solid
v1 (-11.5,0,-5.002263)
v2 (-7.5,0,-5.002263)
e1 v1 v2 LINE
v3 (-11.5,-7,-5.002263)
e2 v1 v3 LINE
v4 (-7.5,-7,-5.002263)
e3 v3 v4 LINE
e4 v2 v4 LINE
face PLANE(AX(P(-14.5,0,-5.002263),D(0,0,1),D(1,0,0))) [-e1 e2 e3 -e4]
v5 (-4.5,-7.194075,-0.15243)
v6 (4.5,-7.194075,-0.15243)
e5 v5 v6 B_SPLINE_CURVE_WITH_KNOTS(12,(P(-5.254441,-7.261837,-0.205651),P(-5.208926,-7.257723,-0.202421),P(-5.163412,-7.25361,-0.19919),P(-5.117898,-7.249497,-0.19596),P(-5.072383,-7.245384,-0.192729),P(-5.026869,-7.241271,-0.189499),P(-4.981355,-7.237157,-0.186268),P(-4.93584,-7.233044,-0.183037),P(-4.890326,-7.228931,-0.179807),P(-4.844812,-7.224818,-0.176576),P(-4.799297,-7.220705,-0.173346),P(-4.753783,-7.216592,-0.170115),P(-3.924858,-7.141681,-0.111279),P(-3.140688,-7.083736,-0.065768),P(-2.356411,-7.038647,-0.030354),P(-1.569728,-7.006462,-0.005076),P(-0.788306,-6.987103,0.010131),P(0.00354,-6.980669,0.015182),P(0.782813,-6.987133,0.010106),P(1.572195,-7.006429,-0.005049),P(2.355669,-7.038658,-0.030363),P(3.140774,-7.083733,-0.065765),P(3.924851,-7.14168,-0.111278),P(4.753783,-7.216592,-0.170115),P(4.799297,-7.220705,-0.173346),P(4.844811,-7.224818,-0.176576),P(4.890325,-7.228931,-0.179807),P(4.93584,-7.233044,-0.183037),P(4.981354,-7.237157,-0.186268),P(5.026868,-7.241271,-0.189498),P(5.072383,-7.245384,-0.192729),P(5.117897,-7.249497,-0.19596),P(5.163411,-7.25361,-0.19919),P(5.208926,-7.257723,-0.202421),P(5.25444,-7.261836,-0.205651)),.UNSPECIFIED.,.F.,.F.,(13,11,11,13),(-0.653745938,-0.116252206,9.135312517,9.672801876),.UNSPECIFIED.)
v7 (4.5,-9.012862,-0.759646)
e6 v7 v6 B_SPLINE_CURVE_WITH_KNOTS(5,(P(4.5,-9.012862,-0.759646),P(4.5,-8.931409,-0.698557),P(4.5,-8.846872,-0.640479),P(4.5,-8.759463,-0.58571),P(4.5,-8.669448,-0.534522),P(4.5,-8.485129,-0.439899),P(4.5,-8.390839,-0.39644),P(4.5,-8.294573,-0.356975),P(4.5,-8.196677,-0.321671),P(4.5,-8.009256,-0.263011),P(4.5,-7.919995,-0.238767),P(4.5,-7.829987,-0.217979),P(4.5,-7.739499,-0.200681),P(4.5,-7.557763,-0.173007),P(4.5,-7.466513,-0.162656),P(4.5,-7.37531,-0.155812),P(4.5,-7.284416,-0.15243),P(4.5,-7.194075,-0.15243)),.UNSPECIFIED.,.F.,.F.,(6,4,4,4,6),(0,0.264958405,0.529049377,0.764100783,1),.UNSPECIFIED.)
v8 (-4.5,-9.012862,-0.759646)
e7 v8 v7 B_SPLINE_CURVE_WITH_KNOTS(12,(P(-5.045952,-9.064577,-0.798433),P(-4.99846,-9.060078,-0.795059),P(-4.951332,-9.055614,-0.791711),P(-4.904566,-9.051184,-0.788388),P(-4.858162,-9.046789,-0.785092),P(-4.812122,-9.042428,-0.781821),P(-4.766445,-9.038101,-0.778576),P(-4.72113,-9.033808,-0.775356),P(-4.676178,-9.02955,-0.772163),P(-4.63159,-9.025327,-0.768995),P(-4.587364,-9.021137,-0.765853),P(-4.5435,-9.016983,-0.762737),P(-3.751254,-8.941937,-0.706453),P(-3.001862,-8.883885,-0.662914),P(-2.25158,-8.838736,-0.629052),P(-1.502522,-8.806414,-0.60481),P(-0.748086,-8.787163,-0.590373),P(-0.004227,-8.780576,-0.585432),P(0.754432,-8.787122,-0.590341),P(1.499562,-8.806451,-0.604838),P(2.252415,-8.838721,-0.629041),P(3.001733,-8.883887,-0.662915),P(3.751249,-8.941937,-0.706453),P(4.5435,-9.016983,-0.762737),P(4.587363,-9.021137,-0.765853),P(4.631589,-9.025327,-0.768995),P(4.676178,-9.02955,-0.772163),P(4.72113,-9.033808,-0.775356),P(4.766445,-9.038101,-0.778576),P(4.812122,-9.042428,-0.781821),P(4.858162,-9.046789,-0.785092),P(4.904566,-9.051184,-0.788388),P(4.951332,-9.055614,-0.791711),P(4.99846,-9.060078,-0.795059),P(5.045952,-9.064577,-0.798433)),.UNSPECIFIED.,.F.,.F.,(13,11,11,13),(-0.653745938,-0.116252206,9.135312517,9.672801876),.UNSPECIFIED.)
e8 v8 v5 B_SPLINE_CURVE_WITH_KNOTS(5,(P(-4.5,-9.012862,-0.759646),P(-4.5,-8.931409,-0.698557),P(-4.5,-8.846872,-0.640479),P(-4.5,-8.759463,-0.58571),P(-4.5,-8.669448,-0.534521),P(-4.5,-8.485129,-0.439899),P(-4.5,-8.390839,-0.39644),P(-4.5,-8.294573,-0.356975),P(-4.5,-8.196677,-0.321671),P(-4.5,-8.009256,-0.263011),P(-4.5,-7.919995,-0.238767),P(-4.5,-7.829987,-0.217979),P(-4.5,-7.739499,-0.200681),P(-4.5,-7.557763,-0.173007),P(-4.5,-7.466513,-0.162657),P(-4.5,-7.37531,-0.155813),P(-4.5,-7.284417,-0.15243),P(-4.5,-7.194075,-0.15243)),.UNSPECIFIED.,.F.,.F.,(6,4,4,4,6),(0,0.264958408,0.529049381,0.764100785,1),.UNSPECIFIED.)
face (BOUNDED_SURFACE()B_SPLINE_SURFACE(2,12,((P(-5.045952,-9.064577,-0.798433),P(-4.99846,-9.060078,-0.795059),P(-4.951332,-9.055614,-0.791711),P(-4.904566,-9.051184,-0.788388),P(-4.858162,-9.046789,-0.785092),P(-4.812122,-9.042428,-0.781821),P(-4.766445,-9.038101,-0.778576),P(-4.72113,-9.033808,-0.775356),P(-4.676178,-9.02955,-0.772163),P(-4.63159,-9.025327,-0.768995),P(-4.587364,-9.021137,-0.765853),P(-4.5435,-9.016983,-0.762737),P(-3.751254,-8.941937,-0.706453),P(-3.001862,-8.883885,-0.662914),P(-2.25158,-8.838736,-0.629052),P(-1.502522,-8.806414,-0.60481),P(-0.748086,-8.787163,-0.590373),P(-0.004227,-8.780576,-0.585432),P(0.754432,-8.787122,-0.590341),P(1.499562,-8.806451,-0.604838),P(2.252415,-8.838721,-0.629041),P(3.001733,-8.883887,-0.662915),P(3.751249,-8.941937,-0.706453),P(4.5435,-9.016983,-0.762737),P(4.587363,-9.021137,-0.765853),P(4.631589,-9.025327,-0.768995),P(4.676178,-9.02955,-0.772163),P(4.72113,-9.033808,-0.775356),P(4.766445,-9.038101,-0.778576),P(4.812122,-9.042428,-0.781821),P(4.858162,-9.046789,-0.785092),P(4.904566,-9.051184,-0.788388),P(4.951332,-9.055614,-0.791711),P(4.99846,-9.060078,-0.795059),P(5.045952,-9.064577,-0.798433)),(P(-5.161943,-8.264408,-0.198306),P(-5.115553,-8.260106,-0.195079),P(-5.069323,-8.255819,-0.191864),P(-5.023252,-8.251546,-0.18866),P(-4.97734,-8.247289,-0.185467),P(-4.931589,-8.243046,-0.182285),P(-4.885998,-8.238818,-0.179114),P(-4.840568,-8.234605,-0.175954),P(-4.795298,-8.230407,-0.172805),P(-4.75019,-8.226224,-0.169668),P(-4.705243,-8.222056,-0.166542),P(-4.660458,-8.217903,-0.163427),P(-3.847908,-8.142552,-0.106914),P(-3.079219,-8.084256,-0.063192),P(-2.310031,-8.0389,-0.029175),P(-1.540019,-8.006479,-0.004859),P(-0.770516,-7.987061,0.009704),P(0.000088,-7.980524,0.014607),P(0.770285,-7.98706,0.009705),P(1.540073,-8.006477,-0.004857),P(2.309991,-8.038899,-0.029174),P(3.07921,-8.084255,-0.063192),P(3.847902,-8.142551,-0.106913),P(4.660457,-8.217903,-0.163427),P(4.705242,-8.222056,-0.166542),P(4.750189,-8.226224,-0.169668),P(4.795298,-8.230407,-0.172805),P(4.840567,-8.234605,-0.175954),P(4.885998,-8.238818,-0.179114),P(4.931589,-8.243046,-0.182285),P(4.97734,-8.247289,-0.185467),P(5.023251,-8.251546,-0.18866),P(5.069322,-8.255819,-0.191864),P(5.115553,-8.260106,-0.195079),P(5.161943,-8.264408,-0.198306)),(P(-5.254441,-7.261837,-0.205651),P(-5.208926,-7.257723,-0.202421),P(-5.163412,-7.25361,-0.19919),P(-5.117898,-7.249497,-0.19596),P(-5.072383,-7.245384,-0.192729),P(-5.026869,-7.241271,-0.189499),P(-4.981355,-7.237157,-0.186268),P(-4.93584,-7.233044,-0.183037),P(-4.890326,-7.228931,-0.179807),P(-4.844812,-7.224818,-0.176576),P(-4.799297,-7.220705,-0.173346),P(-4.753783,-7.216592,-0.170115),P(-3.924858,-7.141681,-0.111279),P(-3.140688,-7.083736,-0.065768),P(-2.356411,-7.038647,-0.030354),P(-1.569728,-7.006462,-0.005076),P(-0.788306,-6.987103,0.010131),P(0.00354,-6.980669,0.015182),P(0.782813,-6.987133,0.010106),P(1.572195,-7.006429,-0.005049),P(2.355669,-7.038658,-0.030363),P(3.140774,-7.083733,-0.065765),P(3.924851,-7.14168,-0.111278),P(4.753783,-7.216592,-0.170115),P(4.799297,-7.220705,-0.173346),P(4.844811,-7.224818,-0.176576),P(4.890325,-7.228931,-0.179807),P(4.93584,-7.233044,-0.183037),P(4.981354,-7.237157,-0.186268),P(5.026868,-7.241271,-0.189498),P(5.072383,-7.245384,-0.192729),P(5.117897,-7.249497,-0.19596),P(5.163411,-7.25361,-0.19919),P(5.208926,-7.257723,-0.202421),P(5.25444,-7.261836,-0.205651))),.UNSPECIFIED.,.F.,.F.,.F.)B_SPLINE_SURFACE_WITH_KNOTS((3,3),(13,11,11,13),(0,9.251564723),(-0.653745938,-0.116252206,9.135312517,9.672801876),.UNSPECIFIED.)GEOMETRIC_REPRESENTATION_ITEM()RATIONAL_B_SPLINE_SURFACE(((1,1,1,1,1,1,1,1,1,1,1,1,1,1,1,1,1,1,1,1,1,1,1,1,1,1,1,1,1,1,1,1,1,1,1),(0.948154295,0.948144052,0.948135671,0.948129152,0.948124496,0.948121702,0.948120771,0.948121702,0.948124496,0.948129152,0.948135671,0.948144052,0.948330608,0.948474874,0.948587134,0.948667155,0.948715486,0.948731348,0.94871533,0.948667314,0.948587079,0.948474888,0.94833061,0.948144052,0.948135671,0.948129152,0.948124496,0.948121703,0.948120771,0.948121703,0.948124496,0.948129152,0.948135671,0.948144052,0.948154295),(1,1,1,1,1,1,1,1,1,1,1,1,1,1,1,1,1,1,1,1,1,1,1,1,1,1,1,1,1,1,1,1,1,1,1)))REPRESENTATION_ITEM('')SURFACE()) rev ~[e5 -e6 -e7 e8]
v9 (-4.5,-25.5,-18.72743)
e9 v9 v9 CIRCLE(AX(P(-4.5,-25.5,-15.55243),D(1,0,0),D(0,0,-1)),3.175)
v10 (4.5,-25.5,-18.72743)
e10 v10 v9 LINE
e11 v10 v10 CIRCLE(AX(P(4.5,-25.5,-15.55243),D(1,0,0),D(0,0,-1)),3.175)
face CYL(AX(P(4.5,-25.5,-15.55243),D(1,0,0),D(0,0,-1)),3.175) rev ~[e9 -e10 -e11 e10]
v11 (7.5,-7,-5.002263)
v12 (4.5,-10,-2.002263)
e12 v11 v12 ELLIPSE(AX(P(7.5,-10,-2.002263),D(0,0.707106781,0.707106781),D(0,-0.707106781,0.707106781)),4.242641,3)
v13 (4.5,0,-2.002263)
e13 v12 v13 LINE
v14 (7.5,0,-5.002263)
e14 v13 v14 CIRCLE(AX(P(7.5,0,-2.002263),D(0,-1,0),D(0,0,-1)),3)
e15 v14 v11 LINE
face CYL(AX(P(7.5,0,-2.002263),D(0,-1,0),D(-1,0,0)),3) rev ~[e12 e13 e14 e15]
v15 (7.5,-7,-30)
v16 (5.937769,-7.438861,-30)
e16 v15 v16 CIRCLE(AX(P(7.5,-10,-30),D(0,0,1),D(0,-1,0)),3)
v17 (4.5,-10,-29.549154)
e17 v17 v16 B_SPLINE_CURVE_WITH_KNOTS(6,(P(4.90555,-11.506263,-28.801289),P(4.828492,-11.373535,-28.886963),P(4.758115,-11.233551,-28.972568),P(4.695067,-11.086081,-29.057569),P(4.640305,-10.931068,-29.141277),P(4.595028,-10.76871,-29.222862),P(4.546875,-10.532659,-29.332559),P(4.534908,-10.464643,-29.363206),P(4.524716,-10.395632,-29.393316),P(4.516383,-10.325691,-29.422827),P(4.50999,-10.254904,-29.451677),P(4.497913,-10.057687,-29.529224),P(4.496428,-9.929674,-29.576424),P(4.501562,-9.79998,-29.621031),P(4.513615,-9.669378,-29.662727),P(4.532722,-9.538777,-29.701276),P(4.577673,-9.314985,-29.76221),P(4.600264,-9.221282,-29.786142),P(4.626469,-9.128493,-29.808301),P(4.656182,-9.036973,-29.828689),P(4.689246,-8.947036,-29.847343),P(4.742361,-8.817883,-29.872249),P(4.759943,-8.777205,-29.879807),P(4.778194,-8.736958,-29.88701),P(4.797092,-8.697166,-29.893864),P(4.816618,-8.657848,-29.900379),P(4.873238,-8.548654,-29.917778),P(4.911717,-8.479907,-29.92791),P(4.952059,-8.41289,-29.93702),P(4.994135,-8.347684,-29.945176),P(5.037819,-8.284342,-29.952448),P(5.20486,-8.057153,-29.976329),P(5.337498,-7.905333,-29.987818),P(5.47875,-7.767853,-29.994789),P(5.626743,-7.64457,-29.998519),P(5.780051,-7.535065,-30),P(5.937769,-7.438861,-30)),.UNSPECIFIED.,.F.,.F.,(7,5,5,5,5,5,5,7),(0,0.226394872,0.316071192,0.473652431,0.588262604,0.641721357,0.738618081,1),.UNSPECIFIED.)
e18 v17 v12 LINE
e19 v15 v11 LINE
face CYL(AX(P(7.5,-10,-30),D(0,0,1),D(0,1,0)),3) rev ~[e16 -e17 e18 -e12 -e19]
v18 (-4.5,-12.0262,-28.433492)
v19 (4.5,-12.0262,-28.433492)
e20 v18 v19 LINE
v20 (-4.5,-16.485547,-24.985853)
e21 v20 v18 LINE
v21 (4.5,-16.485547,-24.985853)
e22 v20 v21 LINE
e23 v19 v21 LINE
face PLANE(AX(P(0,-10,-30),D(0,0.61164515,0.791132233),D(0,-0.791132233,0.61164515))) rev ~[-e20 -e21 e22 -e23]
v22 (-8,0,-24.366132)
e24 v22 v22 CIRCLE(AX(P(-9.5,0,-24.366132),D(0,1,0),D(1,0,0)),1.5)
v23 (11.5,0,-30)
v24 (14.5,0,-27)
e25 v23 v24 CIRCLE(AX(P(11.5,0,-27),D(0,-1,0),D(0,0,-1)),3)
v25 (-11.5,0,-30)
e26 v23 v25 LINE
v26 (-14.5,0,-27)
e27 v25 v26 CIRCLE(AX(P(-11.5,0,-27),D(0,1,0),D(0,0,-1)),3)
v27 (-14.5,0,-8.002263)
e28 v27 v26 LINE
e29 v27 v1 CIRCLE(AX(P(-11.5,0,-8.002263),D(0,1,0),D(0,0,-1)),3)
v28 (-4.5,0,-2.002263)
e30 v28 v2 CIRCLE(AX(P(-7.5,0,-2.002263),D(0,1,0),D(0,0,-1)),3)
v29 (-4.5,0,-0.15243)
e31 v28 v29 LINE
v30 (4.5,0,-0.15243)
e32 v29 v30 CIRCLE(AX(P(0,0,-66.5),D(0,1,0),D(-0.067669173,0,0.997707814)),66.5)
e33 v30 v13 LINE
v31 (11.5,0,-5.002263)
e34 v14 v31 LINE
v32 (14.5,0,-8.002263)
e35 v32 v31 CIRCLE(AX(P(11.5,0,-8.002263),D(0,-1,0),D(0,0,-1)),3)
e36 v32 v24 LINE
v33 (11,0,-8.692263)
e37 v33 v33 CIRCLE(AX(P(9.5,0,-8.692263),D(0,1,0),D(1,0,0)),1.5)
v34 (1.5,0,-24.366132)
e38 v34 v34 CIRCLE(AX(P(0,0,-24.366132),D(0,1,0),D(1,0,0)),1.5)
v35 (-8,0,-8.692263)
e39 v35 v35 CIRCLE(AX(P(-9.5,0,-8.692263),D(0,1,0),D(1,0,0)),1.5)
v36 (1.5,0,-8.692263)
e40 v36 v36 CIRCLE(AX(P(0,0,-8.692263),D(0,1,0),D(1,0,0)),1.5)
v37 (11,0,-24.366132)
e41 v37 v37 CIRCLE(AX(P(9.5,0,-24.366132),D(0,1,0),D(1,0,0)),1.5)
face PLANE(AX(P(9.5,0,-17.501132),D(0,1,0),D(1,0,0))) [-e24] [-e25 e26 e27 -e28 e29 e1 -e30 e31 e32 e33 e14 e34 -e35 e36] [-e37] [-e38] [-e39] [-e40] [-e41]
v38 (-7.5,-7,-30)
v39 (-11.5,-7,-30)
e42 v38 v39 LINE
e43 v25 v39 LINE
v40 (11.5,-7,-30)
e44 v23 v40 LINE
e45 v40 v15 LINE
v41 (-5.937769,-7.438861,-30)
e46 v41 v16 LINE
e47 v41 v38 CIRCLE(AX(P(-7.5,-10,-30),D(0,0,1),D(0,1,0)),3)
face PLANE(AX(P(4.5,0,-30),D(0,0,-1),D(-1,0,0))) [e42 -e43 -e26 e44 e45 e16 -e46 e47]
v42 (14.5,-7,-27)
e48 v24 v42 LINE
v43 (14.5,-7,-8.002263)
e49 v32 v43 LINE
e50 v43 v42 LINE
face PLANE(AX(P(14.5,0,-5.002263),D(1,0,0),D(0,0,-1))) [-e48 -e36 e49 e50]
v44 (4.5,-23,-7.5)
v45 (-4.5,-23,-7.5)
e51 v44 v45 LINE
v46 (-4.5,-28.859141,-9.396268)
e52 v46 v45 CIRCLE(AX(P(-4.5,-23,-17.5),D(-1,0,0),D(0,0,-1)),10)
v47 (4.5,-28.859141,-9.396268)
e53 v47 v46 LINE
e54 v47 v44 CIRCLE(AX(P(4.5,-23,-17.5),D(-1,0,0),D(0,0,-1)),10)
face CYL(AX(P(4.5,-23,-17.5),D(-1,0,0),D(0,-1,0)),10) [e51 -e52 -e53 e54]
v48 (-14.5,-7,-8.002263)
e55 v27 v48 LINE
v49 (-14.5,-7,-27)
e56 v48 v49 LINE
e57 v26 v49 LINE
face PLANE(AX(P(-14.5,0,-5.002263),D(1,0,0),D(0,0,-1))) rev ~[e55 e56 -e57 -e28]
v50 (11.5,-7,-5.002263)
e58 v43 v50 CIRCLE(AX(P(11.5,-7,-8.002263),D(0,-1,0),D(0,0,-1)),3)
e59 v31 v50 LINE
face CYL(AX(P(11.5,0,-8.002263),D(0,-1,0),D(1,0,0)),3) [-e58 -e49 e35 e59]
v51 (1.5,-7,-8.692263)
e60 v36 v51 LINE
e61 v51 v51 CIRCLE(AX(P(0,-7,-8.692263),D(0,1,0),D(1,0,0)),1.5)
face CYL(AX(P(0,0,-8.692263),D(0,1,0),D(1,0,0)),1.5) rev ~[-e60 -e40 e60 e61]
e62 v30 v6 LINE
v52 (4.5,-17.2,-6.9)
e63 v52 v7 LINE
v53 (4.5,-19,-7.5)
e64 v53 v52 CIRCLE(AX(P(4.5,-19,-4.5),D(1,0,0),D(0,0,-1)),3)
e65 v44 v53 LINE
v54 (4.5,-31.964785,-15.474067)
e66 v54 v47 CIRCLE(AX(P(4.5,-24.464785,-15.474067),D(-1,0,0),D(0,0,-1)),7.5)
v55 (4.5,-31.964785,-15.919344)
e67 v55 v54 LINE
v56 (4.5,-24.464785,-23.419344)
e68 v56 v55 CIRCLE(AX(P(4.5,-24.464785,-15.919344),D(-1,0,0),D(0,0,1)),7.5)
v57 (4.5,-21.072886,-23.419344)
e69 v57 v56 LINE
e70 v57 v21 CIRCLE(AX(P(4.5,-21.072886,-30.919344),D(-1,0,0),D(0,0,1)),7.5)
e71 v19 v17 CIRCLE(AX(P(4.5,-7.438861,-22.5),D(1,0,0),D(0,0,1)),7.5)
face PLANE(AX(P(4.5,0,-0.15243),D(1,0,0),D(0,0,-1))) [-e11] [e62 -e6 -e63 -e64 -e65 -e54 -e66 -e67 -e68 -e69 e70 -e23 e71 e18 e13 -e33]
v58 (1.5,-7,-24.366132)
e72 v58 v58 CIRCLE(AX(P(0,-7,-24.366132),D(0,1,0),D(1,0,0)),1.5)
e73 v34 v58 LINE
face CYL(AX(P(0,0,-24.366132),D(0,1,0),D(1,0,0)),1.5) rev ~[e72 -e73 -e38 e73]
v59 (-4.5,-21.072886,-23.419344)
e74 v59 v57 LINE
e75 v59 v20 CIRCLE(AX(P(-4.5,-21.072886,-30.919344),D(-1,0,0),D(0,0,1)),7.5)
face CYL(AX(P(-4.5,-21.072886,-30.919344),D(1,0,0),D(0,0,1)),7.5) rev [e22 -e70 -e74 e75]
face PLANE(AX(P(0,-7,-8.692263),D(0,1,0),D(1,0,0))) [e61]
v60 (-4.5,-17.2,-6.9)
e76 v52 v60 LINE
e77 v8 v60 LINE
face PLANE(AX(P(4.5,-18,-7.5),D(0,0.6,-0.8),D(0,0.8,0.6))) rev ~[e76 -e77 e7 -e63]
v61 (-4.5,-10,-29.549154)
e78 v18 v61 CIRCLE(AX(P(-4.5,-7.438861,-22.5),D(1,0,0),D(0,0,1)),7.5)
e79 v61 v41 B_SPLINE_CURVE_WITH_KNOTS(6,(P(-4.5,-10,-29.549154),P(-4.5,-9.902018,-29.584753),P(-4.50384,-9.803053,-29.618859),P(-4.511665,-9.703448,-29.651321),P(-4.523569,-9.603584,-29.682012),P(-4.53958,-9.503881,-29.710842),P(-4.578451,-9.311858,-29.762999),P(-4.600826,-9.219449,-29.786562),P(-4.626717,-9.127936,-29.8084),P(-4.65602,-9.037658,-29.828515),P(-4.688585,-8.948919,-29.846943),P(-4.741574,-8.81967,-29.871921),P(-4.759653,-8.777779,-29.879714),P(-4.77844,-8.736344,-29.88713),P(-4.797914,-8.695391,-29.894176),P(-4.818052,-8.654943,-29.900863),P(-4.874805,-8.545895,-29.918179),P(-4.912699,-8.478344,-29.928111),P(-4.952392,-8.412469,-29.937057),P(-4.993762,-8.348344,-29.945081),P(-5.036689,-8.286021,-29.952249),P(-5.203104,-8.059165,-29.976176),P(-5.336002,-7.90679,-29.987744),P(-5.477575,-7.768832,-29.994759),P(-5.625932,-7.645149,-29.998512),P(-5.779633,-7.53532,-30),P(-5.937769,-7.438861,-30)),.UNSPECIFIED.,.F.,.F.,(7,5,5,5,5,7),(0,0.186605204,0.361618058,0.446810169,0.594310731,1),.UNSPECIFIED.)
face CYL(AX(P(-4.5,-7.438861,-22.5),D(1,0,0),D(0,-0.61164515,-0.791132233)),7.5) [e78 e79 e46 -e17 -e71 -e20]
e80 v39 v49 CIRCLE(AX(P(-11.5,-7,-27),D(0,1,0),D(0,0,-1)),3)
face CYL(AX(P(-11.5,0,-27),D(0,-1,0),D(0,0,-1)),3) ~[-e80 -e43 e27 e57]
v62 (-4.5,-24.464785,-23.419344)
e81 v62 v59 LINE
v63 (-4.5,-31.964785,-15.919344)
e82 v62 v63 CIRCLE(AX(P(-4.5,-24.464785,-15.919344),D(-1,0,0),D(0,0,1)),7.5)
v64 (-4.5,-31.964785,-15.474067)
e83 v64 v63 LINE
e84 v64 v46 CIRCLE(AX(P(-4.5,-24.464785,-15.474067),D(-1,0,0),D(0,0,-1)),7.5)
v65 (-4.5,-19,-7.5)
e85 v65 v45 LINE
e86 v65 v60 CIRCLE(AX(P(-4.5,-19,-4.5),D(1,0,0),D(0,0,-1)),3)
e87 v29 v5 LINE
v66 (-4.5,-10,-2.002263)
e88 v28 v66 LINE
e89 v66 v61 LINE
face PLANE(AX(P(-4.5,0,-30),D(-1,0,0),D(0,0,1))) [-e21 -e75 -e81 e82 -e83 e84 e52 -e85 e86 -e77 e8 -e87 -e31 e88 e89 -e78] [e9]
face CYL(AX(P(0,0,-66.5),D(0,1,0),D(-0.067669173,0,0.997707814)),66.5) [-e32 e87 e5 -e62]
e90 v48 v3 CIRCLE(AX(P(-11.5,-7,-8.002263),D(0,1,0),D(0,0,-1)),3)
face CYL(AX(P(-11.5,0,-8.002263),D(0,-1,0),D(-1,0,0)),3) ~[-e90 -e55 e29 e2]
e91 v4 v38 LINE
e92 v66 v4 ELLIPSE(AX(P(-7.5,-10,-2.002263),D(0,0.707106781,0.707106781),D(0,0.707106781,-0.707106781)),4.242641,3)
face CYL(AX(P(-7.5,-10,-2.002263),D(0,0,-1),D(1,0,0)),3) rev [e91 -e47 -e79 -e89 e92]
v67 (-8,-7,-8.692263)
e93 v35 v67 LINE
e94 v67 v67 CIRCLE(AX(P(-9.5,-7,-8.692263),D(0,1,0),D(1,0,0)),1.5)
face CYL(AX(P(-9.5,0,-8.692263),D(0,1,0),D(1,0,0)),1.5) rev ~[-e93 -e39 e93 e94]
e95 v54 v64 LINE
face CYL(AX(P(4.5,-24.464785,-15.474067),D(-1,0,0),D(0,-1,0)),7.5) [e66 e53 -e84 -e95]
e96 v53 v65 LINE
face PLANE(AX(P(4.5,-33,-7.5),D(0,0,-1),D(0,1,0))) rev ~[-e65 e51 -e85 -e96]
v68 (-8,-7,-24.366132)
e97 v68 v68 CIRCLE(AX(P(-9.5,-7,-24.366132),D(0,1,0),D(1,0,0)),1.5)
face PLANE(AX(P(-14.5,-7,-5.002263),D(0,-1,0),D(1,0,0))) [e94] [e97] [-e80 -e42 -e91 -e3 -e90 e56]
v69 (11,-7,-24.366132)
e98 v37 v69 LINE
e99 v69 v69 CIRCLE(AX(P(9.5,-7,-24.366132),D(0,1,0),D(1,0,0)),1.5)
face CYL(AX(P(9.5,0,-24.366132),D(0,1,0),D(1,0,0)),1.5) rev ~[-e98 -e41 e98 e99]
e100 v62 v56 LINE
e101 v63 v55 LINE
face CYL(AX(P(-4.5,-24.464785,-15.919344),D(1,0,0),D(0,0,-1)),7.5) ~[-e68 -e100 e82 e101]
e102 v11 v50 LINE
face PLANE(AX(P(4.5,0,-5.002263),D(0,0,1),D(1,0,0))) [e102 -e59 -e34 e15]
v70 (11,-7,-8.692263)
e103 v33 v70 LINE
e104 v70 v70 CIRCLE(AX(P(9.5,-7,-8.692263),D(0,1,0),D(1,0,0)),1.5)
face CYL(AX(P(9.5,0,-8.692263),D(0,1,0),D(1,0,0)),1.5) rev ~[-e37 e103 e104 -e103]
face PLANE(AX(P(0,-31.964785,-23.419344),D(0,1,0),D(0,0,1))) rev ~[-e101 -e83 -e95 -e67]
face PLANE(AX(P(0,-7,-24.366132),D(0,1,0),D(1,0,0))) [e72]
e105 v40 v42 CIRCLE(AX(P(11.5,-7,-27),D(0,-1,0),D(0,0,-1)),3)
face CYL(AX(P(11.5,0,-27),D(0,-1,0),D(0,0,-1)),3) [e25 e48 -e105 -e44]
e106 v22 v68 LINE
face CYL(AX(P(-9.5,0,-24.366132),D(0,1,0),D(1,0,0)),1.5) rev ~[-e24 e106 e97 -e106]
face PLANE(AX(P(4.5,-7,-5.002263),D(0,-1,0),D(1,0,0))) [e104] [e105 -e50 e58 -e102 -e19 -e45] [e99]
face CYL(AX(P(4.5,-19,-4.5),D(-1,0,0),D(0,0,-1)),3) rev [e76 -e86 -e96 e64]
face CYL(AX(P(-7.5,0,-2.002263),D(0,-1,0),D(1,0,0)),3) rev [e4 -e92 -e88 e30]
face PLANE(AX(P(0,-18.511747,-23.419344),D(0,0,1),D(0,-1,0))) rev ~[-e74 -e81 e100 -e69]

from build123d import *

# Parameters (mm, degrees)
BOSS_EXTRUDE1_DEPTH = 33
SKETCH2_R           = 3.175
CUT_EXTRUDE1_DEPTH  = 20
CUT_EXTRUDE2_DEPTH  = 20
FILLET1_R           = 10
SKETCH3_R           = 1.5
CUT_EXTRUDE3_DEPTH  = 7
SKETCH3_3_R         = 1.5
CUT_EXTRUDE4_DEPTH  = 7
SKETCH3_4_W         = 10
SKETCH3_4_H         = 24.9977367
BOSS_EXTRUDE2_DEPTH = 10
SKETCH3_5_R         = 1.5
CUT_EXTRUDE5_DEPTH  = 8
FILLET9_R           = 3
SKETCH20_W          = 10
SKETCH20_H          = 3
CUT_EXTRUDE6_DEPTH  = 25
FILLET10_R          = 3
FILLET11_R          = 10
FILLET12_R          = 3
FILLET13_R          = 3
CUT_EXTRUDE7_DEPTH  = 5
FILLET17_R          = 7.5
FILLET18_R          = 7.5
FILLET19_R          = 7.5


with BuildPart() as part:
    # Sketch1 → Boss-Extrude1 (new body)
    with BuildSketch(Plane(origin=(0, 0, 0), x_dir=(1, 0, 0), z_dir=(0, 1, 0))):
        with BuildLine():
            ThreePointArc((-4.5, 0.152430338), (0, 0), (4.5, 0.152430338))
            Line((4.5, 0.152430338), (4.5, 30))
            Line((4.5, 30), (-4.5, 30))
            Line((-4.5, 30), (-4.5, 0.152430338))
        make_face()
    extrude(amount=-BOSS_EXTRUDE1_DEPTH)

    # Sketch2 → Cut-Extrude1 (cut)
    with BuildSketch(Plane(origin=(4.5, 0, 0), x_dir=(0, 0, -1), z_dir=(1, 0, 0))):
        with Locations((15.552430338, -25.5)):
            Circle(SKETCH2_R)
    extrude(amount=-CUT_EXTRUDE1_DEPTH, mode=Mode.SUBTRACT)

    # Sketch2<4> → Cut-Extrude2 (cut)
    with BuildSketch(Plane(origin=(4.5, 0, 0), x_dir=(0, 0, -1), z_dir=(1, 0, 0))):
        Polygon((7.5, -33), (7.5, -18), (0, -8), (0, -33), align=None)
    extrude(amount=-CUT_EXTRUDE2_DEPTH, mode=Mode.SUBTRACT)

    # Fillet1
    fillet1_edges = [part.edges().sort_by_distance(p)[0] for p in [
        (0, -33, -7.5),
    ]]
    fillet(fillet1_edges, radius=FILLET1_R)

    # Sketch3 → Cut-Extrude3 (cut)
    with BuildSketch(Plane(origin=(0, 0, 0), x_dir=(1, 0, 0), z_dir=(0, 1, 0))):
        with Locations((0, 24.36613165)):
            Circle(SKETCH3_R)
    extrude(amount=-CUT_EXTRUDE3_DEPTH, mode=Mode.SUBTRACT)

    # Sketch3<3> → Cut-Extrude4 (cut)
    with BuildSketch(Plane(origin=(0, 0, 0), x_dir=(1, 0, 0), z_dir=(0, 1, 0))):
        with Locations((0, 8.6922633)):
            Circle(SKETCH3_3_R)
    extrude(amount=-CUT_EXTRUDE4_DEPTH, mode=Mode.SUBTRACT)

    # Sketch3<4> → Boss-Extrude2 (add)
    with BuildSketch(Plane(origin=(0, 0, 0), x_dir=(1, 0, 0), z_dir=(0, 1, 0))):
        with Locations((9.5, 17.50113165)):
            Rectangle(SKETCH3_4_W, SKETCH3_4_H)
        with Locations((-9.5, 17.50113165)):
            Rectangle(SKETCH3_4_W, SKETCH3_4_H)
    extrude(amount=-BOSS_EXTRUDE2_DEPTH)

    # Sketch3<5> → Cut-Extrude5 (cut)
    with BuildSketch(Plane(origin=(0, 0, 0), x_dir=(1, 0, 0), z_dir=(0, 1, 0))):
        with Locations((-9.5, 24.36613165)):
            Circle(SKETCH3_5_R)
        with Locations((-9.5, 8.6922633)):
            Circle(SKETCH3_5_R)
        with Locations((9.5, 8.6922633)):
            Circle(SKETCH3_5_R)
        with Locations((9.5, 24.36613165)):
            Circle(SKETCH3_5_R)
    extrude(amount=-CUT_EXTRUDE5_DEPTH, mode=Mode.SUBTRACT)

    # Fillet9
    fillet9_edges = [part.edges().sort_by_distance(p)[0] for p in [
        (0, -18, -7.5),
        (-2.253575518, -8.050927935, -0.038195951),
    ]]
    fillet(fillet9_edges, radius=FILLET9_R)

    # Sketch20 → Cut-Extrude6 (cut)
    with BuildSketch(Plane.XY.offset(-5.0022633)):
        with Locations((-9.5, -8.5)):
            Rectangle(SKETCH20_W, SKETCH20_H)
        with Locations((9.5, -8.5)):
            Rectangle(SKETCH20_W, SKETCH20_H)
    extrude(amount=-CUT_EXTRUDE6_DEPTH, mode=Mode.SUBTRACT)

    # Fillet10
    fillet10_edges = [part.edges().sort_by_distance(p)[0] for p in [
        (4.5, -3.5, -5.0022633),
        (-4.5, -3.5, -5.0022633),
    ]]
    fillet(fillet10_edges, radius=FILLET10_R)

    # Fillet11
    fillet11_edges = [part.edges().sort_by_distance(p)[0] for p in [
        (0, -33, -30),
    ]]
    fillet(fillet11_edges, radius=FILLET11_R)

    # Fillet12
    fillet12_edges = [part.edges().sort_by_distance(p)[0] for p in [
        (14.5, -3.5, -30),
        (14.5, -3.5, -5.0022633),
        (-14.5, -3.5, -30),
        (-14.5, -3.5, -5.0022633),
    ]]
    fillet(fillet12_edges, radius=FILLET12_R)

    # Fillet13
    fillet13_edges = [part.edges().sort_by_distance(p)[0] for p in [
        (4.5, -7, -16.00113165),
        (-4.5, -7, -16.00113165),
    ]]
    fillet(fillet13_edges, radius=FILLET13_R)

    # Sketch21 → Cut-Extrude7 (cut, symmetric)
    with BuildSketch(Plane(origin=(0, 0, 0), x_dir=(0, 0, -1), z_dir=(1, 0, 0))):
        Polygon((31.193881394, -10), (30, -10), (23.419344423, -18.511746958), (23.419344423, -31.964785254), (7.776068465, -31.964785254), (7.488922124, -35.386612487), (23.419344423, -35.386612487), (23.419344423, -32.39723809), (31.193881394, -32.39723809), align=None)
    extrude(amount=CUT_EXTRUDE7_DEPTH, both=True, mode=Mode.SUBTRACT)

    # Fillet17
    fillet17_edges = [part.edges().sort_by_distance(p)[0] for p in [
        (0, -31.964785254, -23.419344423),
    ]]
    fillet(fillet17_edges, radius=FILLET17_R)

    # Fillet18
    fillet18_edges = [part.edges().sort_by_distance(p)[0] for p in [
        (0, -31.964785254, -13.069128149),
    ]]
    fillet(fillet18_edges, radius=FILLET18_R)

    # Fillet19
    fillet19_edges = [part.edges().sort_by_distance(p)[0] for p in [
        (0, -10, -30),
        (0, -18.511746958, -23.419344423),
    ]]
    fillet(fillet19_edges, radius=FILLET19_R)


solid = part.part
